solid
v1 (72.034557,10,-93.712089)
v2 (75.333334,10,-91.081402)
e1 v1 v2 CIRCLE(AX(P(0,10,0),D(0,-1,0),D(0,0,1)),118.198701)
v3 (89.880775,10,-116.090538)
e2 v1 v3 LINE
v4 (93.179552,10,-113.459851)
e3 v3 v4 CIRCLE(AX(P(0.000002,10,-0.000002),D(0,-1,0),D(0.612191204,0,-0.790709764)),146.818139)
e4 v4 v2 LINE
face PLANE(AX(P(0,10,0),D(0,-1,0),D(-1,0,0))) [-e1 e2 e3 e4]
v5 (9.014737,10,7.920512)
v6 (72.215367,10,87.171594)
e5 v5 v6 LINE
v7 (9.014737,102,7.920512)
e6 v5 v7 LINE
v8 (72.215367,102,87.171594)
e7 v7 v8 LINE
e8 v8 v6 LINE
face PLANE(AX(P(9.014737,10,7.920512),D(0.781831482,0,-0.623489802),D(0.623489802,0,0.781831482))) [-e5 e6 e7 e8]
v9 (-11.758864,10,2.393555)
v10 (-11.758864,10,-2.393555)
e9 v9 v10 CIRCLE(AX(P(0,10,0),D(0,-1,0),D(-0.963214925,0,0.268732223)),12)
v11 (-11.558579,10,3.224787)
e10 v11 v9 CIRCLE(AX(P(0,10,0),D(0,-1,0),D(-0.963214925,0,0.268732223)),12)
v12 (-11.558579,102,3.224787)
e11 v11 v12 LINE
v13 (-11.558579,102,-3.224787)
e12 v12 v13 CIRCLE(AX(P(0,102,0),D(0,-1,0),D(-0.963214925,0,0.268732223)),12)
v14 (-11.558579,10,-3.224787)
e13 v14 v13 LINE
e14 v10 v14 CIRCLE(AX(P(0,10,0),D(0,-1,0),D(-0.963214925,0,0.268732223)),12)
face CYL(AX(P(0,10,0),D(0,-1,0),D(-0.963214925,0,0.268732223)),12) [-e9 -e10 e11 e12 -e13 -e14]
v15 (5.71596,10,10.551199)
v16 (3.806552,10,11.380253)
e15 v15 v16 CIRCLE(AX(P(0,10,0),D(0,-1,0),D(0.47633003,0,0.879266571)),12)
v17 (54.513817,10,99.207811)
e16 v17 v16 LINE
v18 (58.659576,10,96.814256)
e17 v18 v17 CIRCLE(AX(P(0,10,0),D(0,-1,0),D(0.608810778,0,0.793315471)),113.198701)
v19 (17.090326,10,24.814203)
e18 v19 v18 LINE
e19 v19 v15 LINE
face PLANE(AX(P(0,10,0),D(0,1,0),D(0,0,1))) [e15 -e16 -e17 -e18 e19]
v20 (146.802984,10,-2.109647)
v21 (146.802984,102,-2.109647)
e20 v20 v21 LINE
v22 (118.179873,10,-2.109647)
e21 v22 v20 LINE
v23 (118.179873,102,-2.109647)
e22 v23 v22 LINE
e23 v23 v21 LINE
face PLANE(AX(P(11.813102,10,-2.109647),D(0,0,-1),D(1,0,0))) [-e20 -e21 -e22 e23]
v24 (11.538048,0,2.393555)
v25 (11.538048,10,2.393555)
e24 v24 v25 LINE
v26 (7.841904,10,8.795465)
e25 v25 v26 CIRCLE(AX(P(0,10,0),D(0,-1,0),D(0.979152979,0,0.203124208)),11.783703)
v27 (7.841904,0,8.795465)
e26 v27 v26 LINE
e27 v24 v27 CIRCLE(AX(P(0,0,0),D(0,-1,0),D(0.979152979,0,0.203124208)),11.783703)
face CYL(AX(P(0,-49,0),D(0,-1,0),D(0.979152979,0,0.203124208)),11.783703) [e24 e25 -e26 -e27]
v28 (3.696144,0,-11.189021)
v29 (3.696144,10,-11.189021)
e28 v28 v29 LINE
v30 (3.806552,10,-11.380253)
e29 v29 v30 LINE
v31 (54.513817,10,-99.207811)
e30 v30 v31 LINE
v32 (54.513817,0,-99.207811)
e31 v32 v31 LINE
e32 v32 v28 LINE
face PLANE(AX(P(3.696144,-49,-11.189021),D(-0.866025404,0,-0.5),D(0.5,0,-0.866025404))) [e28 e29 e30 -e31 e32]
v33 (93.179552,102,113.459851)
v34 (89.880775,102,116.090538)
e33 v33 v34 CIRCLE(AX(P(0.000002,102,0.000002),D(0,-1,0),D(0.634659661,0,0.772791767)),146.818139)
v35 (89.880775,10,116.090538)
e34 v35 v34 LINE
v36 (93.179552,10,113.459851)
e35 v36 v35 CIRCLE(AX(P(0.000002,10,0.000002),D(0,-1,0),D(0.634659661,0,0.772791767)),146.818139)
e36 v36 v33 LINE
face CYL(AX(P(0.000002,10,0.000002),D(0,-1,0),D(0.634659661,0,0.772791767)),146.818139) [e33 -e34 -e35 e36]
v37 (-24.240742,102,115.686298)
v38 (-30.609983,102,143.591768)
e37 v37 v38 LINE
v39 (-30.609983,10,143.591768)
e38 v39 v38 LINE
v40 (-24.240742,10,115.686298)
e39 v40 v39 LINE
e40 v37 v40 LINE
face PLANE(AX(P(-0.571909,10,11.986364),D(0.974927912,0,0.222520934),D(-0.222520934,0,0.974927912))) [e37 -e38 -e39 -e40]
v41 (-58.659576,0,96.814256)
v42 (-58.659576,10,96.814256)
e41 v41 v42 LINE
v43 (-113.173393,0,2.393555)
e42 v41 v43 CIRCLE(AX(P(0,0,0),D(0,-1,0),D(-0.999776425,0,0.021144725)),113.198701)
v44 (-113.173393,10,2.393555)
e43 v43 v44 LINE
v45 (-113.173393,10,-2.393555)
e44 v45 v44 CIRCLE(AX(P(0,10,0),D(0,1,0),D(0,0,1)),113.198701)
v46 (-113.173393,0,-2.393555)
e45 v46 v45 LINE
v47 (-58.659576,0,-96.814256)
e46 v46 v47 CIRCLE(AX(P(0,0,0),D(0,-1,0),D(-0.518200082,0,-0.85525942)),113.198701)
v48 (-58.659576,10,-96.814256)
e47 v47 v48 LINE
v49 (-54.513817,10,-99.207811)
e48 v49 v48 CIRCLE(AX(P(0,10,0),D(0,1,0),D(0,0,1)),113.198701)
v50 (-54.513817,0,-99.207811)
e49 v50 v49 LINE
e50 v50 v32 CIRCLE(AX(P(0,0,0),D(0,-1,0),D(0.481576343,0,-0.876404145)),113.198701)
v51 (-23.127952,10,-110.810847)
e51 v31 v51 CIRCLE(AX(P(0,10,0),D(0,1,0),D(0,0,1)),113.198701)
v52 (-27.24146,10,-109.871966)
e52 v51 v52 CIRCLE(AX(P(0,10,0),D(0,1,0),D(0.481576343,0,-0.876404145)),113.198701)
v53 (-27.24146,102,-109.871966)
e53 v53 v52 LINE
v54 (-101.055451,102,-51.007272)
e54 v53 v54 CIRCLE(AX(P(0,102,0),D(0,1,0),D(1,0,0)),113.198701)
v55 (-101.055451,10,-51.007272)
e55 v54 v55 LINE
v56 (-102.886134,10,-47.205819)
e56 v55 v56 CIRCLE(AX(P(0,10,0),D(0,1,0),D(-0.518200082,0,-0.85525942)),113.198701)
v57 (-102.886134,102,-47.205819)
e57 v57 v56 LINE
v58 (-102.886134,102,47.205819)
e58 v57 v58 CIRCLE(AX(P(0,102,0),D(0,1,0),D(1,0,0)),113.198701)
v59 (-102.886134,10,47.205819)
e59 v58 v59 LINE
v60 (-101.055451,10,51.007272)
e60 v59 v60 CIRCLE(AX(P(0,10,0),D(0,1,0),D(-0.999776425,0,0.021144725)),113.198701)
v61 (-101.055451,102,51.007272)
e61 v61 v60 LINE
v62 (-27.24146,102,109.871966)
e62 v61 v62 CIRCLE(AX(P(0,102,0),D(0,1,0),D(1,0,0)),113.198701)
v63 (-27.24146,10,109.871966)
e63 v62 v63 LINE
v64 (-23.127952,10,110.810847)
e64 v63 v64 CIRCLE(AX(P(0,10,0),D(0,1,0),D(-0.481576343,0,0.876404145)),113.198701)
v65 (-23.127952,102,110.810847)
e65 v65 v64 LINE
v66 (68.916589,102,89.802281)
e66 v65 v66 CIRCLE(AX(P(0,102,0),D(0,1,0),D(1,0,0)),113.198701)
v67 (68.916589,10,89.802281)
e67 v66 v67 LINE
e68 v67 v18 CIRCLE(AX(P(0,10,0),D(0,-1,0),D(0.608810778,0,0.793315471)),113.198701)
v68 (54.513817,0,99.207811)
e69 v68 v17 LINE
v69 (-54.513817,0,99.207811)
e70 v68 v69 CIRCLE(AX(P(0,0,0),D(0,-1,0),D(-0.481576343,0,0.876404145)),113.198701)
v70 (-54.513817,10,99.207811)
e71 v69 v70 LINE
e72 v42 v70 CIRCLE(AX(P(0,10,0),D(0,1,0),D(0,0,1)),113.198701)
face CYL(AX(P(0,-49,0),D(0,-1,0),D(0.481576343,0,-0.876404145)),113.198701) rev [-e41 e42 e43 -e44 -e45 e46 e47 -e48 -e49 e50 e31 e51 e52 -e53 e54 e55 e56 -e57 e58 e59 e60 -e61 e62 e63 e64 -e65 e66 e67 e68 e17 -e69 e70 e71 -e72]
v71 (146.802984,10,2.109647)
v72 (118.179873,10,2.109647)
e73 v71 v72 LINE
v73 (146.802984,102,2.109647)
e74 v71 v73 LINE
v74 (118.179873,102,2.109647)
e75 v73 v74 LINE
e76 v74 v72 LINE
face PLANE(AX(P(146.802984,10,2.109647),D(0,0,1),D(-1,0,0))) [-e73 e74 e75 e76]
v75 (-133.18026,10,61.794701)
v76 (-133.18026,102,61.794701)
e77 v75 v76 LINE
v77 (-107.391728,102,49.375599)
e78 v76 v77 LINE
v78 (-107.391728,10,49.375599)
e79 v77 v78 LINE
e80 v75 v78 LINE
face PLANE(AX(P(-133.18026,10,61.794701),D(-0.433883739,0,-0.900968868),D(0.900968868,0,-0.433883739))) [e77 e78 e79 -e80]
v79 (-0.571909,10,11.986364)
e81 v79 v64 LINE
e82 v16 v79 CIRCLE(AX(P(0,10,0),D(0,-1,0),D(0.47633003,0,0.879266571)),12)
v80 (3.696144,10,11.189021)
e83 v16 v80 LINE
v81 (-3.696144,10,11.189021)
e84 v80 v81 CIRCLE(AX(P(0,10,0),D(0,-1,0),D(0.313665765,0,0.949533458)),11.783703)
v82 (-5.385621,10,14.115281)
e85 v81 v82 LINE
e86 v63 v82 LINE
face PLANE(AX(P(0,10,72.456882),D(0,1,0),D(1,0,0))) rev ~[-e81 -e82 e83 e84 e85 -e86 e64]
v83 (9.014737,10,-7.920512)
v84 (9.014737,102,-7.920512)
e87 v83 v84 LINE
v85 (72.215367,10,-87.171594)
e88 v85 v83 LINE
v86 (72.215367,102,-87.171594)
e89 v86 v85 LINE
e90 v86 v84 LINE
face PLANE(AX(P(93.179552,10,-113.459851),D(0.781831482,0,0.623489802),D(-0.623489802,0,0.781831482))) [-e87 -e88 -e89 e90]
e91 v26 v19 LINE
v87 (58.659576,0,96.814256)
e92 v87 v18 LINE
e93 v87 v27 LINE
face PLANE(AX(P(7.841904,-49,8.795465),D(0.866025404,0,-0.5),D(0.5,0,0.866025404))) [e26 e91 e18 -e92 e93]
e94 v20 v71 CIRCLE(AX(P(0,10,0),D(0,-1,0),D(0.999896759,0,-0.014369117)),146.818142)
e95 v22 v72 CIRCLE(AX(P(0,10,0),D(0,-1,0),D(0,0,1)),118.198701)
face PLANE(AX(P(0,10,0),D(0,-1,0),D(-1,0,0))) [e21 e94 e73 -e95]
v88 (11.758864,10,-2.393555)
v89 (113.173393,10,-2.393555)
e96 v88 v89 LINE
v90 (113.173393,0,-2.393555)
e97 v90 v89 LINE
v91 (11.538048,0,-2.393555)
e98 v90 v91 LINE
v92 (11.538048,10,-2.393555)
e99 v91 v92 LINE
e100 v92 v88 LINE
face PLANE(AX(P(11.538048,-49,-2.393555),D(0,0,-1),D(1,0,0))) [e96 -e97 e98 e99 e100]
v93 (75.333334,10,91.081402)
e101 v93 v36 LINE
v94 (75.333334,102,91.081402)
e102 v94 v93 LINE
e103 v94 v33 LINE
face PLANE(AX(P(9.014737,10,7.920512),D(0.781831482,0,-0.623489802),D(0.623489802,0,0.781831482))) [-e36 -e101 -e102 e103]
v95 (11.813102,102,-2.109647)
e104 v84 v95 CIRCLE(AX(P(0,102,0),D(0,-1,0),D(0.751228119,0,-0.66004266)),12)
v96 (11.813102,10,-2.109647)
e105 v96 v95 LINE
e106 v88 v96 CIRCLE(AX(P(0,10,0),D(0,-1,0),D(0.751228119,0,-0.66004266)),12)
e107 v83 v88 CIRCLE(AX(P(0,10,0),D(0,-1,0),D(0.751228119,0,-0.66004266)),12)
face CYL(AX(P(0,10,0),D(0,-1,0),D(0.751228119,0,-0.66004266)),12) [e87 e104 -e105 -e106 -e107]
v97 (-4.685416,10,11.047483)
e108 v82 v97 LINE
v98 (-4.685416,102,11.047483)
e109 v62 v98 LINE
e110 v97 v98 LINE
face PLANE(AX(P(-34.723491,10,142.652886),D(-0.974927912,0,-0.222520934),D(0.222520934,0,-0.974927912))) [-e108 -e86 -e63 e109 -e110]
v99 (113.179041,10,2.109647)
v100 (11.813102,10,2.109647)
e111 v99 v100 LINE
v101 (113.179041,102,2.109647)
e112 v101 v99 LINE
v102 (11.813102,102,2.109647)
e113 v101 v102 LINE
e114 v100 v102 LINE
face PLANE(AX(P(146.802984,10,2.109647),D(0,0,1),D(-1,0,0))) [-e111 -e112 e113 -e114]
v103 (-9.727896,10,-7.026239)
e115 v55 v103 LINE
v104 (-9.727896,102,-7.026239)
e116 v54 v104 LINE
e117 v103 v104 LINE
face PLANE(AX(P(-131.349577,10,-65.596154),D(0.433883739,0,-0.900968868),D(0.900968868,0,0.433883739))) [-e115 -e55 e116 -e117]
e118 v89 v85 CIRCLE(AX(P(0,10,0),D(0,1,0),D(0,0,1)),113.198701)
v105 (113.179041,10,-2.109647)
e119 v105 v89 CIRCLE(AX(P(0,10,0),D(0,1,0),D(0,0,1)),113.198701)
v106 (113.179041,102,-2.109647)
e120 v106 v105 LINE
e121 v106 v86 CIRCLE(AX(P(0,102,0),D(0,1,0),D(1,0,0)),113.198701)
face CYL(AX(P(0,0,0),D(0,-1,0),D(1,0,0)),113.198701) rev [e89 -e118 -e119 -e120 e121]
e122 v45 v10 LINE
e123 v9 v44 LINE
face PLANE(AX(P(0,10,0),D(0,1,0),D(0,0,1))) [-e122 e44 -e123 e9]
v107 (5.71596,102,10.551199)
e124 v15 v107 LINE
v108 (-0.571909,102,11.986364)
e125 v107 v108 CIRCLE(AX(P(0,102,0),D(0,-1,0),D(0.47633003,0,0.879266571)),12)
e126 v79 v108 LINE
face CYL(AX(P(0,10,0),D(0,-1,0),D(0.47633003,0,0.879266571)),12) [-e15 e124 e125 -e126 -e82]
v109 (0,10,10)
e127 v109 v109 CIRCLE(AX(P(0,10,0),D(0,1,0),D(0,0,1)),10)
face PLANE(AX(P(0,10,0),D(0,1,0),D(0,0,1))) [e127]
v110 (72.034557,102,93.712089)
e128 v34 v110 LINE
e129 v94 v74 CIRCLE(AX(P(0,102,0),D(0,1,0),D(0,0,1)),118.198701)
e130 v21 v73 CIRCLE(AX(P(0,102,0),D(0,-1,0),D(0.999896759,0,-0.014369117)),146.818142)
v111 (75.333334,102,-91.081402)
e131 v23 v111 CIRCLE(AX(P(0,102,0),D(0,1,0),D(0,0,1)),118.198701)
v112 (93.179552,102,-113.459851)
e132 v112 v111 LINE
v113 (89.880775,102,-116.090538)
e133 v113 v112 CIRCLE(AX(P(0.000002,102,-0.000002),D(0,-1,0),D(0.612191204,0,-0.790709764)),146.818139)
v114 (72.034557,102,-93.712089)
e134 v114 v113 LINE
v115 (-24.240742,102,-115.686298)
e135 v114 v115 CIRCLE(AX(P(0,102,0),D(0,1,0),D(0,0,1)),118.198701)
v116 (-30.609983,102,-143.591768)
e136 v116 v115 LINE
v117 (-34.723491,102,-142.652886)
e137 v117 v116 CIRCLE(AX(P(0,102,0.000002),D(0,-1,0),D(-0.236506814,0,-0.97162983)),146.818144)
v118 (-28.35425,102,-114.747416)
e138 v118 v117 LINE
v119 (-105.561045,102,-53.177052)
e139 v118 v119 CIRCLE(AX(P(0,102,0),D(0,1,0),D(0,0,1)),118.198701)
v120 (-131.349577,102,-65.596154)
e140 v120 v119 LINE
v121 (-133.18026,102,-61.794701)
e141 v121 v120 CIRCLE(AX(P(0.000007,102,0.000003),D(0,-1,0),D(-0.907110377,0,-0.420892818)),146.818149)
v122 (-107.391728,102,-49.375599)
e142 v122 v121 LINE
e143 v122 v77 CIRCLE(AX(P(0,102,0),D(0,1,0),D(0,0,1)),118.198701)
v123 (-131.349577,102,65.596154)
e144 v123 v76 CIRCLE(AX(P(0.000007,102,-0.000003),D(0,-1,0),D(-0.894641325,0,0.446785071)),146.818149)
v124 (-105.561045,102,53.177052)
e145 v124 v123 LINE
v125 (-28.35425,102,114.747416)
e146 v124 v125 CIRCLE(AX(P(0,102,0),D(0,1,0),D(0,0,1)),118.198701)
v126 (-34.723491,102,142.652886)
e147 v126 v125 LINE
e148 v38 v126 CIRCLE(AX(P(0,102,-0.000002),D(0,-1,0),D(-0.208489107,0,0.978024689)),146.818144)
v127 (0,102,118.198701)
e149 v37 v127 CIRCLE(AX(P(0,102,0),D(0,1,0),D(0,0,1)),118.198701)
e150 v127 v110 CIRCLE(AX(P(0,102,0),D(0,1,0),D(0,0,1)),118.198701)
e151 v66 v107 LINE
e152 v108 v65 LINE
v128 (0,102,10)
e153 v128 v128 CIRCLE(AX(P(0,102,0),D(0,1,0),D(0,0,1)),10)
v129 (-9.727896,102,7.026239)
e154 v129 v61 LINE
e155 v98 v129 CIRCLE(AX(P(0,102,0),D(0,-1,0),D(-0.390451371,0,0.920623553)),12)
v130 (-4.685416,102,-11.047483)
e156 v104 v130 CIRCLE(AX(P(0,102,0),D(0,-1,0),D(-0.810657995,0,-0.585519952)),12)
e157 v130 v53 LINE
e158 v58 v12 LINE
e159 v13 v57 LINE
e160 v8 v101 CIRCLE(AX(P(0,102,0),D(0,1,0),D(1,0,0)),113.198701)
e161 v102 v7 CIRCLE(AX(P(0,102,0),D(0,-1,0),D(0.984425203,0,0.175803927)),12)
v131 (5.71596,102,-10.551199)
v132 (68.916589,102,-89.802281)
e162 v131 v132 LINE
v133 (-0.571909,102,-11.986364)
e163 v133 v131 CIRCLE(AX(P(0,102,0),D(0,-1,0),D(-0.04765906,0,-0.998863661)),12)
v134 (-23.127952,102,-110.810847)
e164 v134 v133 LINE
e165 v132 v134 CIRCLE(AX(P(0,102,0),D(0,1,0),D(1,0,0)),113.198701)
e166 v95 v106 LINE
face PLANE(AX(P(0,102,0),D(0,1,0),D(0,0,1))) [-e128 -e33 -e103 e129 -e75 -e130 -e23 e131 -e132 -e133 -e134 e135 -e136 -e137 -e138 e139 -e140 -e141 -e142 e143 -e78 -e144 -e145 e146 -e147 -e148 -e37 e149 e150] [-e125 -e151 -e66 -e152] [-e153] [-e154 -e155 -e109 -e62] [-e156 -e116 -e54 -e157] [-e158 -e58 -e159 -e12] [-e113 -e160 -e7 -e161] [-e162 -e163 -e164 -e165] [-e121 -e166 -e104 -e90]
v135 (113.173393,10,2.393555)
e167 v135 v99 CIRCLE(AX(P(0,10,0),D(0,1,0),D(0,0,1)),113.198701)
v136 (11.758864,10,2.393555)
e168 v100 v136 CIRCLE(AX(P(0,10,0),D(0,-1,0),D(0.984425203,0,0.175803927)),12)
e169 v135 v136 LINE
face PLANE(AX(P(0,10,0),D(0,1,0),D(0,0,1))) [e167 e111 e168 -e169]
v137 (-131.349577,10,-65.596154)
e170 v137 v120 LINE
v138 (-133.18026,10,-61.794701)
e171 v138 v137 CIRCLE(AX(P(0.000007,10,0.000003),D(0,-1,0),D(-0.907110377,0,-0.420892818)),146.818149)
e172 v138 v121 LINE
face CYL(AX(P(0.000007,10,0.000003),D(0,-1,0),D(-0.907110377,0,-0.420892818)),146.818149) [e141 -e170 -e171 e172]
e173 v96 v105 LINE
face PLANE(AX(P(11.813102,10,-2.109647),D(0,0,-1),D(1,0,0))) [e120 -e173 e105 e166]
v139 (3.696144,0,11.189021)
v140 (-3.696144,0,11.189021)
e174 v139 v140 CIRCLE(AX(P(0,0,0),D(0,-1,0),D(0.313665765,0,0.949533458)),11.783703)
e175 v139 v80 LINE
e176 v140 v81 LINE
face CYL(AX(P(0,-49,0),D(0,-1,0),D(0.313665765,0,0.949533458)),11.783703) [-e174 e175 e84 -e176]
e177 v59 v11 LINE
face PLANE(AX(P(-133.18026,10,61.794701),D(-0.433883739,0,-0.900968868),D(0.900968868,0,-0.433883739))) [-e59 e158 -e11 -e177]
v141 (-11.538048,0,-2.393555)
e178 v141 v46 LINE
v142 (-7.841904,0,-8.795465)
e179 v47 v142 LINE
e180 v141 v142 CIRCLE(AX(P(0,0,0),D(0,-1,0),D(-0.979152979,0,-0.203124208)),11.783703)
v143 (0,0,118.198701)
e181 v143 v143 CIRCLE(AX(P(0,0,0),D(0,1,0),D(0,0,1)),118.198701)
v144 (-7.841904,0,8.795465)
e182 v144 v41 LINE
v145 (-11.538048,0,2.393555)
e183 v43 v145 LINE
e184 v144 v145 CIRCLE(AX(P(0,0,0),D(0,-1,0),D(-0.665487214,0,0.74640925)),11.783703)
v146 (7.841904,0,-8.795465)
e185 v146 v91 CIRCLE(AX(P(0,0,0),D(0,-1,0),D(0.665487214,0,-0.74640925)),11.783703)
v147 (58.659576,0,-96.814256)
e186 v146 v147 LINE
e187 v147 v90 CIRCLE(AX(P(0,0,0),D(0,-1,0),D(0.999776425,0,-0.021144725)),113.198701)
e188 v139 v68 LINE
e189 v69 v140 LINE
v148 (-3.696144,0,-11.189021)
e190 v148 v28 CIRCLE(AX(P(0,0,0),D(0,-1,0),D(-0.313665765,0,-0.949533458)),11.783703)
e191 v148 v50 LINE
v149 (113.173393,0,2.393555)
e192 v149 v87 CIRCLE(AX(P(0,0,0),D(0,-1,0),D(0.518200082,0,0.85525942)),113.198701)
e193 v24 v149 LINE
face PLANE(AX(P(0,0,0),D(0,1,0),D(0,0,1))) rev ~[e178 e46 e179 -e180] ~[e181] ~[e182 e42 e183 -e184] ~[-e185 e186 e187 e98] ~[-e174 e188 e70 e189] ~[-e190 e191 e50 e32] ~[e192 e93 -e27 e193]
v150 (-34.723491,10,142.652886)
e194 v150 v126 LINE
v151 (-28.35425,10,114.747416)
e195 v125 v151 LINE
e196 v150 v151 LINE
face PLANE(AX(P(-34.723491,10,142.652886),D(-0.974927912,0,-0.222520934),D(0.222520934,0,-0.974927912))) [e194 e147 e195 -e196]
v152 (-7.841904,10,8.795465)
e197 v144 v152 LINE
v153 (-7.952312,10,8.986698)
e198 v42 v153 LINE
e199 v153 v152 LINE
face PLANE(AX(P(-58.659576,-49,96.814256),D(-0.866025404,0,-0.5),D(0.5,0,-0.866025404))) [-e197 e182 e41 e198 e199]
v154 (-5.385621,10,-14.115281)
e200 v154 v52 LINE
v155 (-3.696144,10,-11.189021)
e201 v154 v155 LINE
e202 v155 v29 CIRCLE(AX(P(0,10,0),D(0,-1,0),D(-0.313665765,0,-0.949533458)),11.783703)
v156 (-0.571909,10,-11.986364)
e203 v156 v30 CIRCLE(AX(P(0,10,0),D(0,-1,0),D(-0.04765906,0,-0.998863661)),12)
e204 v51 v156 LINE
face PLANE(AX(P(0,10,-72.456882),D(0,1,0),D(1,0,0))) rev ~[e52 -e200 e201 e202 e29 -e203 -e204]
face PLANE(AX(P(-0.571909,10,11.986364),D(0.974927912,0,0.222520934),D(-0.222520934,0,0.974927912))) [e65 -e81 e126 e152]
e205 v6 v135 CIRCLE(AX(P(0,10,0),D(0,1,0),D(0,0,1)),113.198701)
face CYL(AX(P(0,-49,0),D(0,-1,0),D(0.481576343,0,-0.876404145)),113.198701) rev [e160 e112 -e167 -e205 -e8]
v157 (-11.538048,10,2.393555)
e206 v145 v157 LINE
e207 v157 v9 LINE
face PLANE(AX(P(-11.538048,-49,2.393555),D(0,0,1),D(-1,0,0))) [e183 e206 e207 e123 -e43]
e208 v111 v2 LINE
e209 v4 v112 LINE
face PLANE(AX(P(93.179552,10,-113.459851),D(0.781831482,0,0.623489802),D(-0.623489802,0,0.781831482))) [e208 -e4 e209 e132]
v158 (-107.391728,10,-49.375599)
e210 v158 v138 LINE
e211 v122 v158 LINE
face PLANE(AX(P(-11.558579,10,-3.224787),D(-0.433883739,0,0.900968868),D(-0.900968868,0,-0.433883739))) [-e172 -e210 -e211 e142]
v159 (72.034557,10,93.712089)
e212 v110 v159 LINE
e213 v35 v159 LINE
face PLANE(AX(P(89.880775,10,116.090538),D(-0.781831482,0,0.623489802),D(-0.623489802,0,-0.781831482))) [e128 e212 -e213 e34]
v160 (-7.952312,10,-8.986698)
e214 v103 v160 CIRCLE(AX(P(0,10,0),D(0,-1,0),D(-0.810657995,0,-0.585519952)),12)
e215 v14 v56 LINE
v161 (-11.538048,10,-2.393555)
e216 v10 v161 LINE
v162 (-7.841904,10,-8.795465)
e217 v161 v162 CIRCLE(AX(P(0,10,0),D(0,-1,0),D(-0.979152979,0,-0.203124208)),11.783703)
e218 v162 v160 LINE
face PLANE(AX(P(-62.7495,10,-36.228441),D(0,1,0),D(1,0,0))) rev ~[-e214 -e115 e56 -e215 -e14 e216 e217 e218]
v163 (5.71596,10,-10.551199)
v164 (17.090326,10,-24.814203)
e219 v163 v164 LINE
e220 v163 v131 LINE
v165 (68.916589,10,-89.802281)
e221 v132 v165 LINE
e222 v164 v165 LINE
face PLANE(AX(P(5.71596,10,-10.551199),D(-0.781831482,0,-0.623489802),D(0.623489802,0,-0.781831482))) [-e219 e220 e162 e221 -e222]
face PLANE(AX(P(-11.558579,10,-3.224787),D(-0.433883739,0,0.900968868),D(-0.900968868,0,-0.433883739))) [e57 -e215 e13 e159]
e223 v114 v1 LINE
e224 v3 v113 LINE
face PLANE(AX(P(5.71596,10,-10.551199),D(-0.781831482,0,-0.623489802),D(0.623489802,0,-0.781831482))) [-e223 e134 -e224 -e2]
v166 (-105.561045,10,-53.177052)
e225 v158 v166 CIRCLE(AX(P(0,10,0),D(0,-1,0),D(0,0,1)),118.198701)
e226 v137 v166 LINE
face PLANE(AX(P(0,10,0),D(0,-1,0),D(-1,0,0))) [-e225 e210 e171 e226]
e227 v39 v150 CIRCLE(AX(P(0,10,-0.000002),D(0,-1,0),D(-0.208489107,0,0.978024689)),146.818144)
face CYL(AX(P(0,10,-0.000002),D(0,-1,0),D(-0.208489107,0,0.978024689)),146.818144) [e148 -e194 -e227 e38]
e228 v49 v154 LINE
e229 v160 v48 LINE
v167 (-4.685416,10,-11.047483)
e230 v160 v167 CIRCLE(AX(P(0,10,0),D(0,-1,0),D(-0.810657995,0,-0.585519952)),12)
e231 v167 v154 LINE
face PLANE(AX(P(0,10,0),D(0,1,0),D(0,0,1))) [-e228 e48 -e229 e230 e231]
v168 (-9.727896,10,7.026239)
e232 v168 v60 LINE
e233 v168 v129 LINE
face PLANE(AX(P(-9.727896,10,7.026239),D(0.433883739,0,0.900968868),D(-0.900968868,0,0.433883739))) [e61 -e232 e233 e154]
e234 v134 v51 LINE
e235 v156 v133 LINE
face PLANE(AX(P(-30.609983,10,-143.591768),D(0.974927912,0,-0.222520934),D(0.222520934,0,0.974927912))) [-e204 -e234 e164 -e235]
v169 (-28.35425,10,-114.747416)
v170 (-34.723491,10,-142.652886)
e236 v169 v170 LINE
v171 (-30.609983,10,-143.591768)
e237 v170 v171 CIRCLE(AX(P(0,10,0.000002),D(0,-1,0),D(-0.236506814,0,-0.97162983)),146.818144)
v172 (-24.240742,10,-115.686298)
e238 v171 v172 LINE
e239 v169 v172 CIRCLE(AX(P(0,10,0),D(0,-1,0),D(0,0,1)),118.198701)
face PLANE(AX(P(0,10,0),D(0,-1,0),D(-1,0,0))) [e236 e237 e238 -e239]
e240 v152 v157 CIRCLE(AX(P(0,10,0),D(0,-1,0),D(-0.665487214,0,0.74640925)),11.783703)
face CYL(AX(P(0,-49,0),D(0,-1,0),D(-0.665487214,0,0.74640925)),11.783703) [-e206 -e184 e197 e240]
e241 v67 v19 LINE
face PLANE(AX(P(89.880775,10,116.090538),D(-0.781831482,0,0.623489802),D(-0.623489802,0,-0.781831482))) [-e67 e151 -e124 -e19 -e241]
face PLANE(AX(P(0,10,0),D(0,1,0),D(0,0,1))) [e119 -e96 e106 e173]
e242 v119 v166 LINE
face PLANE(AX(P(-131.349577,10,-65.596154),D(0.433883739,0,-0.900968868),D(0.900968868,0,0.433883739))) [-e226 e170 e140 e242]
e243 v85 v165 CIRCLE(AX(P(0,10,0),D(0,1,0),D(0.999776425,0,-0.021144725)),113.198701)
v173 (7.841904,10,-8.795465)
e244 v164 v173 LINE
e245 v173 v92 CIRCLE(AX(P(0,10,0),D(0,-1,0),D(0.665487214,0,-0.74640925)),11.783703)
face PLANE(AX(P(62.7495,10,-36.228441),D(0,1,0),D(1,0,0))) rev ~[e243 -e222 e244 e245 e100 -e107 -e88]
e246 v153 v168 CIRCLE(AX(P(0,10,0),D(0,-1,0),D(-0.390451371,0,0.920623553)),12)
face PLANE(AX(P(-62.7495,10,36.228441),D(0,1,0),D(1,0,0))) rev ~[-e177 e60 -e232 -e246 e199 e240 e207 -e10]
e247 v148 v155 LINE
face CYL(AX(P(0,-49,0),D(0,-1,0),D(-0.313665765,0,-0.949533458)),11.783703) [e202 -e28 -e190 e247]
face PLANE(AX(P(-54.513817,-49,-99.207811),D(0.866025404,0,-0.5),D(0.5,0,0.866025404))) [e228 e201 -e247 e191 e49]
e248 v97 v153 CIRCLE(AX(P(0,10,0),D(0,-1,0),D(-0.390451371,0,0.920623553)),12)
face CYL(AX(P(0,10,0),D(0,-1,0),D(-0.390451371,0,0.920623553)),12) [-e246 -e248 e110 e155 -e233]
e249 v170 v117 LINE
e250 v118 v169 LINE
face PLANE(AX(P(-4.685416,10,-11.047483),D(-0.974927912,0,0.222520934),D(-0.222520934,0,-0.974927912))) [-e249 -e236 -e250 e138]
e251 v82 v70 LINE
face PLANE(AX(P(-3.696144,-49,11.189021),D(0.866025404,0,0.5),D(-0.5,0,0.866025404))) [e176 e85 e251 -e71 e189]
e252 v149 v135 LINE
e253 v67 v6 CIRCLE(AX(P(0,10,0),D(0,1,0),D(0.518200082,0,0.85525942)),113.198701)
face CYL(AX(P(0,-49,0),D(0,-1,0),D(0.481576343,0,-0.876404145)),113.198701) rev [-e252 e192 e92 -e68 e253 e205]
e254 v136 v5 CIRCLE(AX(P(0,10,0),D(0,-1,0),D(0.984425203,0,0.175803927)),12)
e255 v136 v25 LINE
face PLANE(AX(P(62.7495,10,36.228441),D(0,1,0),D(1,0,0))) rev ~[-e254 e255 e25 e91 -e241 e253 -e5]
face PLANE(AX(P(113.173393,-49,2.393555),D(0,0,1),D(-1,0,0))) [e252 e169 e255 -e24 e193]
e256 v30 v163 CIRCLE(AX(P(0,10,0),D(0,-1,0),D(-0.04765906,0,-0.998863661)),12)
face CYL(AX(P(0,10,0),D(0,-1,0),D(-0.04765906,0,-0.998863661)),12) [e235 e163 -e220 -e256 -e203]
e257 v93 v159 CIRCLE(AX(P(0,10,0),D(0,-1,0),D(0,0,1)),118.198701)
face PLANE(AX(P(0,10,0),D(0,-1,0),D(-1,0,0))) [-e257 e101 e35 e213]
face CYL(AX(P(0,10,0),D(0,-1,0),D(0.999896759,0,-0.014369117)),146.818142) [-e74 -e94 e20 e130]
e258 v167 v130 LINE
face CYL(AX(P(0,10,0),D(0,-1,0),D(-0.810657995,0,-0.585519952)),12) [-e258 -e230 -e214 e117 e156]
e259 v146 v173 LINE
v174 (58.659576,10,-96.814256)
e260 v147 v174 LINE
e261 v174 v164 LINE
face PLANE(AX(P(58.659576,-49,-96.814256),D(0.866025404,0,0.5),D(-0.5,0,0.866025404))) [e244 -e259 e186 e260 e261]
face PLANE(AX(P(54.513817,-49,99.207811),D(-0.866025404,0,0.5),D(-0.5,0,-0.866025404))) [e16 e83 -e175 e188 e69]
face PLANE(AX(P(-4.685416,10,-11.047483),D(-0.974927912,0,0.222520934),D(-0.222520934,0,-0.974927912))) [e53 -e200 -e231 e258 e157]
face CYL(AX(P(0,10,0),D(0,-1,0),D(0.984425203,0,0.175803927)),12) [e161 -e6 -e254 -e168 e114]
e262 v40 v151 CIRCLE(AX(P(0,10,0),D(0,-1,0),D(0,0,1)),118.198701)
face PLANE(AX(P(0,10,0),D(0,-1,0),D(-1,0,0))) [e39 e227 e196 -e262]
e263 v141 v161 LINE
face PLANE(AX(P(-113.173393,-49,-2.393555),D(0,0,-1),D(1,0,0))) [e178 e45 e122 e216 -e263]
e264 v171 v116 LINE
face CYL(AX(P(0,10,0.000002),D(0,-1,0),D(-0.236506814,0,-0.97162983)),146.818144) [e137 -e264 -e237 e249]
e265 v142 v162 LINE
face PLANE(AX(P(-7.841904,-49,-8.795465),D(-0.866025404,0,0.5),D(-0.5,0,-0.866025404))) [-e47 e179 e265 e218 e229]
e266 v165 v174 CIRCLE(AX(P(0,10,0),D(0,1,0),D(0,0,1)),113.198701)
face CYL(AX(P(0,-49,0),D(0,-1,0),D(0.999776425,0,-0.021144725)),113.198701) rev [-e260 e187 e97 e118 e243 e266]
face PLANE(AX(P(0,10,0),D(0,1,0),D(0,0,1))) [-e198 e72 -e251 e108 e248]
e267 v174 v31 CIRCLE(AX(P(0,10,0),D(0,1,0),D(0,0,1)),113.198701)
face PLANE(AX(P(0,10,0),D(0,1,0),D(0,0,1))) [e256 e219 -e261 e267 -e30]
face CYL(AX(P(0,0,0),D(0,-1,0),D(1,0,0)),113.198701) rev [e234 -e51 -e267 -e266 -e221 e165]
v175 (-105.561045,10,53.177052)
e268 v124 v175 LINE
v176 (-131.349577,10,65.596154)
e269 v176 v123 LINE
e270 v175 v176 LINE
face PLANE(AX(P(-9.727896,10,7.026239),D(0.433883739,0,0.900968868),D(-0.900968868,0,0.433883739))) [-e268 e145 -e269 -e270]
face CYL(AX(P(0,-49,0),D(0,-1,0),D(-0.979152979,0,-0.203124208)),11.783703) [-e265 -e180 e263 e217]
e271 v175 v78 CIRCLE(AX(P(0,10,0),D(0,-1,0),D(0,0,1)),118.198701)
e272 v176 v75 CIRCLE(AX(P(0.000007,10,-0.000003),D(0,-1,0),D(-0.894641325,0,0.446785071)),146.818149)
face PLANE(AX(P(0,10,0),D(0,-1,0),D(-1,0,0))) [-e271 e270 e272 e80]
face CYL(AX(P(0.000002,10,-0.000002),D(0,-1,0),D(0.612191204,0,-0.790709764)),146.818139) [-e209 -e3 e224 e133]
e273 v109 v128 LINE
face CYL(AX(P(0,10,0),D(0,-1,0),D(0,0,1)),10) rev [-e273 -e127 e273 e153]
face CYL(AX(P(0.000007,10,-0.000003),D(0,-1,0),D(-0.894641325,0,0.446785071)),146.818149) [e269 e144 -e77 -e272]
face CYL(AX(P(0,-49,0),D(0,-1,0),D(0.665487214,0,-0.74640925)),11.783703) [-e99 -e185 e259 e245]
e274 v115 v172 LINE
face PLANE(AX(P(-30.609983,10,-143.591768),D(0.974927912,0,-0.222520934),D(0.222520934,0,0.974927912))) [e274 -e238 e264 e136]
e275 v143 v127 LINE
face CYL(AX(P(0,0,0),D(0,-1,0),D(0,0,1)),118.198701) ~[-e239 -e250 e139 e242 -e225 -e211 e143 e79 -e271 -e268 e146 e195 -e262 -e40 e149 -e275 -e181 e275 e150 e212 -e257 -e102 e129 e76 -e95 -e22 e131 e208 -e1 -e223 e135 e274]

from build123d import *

# Parameters (mm, degrees)
SKETCH1_R           = 113.19870133
BOSS_EXTRUDE1_DEPTH = 10
SKETCH3_R           = 10
BOSS_EXTRUDE2_DEPTH = 92
BOSS_EXTRUDE3_START = -10
SKETCH4_R           = 118.19870133
SKETCH4_R_2         = 113.19870133
BOSS_EXTRUDE3_DEPTH = 102
CUT_EXTRUDE1_START  = -59
CUT_EXTRUDE1_DEPTH  = 59


with BuildPart() as part:
    # Sketch1 → Boss-Extrude1 (new body)
    with BuildSketch(Plane(origin=(0, 0, 0), x_dir=(1, 0, 0), z_dir=(0, 1, 0))):
        with Locations(Location((0, 0, 0), (0, 0, 270))):
            Circle(SKETCH1_R)
    extrude(amount=BOSS_EXTRUDE1_DEPTH)

    # Sketch3 → Boss-Extrude2 (add)
    with BuildSketch(Plane(origin=(0, 10, 0), x_dir=(1, 0, 0), z_dir=(0, 1, 0))):
        with BuildLine():
            Line((11.81310243, 2.10964712), (146.802984355, 2.10964712))
            ThreePointArc((146.802984355, 2.10964712), (146.818142021, 0), (146.802984355, -2.10964712))
            Line((146.802984355, -2.10964712), (11.81310243, -2.10964712))
            ThreePointArc((11.81310243, -2.10964712), (10.811626415, -5.206604869), (9.014737429, -7.920511921))
            Line((9.014737429, -7.920511921), (93.179552163, -113.459851424))
            ThreePointArc((93.179552163, -113.459851424), (91.539614278, -114.78704563), (89.880775093, -116.090538354))
            Line((89.880775093, -116.090538354), (5.715960358, -10.55119885))
            ThreePointArc((5.715960358, -10.55119885), (2.670251207, -11.699134946), (-0.571908724, -11.986363936))
            Line((-0.571908724, -11.986363936), (-30.609983324, -143.591767687))
            ThreePointArc((-30.609983324, -143.591767687), (-32.670110084, -143.137104671), (-34.723491048, -142.652886392))
            Line((-34.723491048, -142.652886392), (-4.685416448, -11.047482641))
            ThreePointArc((-4.685416448, -11.047482641), (-7.481877622, -9.38197779), (-9.727895943, -7.02623943))
            Line((-9.727895943, -7.02623943), (-131.349577039, -65.596154143))
            ThreePointArc((-131.349577039, -65.596154143), (-132.278575204, -63.70200443), (-133.1802602, -61.794701388))
            Line((-133.1802602, -61.794701388), (-11.558579104, -3.224786676))
            ThreePointArc((-11.558579104, -3.224786676), (-12, 0), (-11.558579104, 3.224786676))
            Line((-11.558579104, 3.224786676), (-133.1802602, 61.794701388))
            ThreePointArc((-133.1802602, 61.794701388), (-132.278575204, 63.70200443), (-131.349577039, 65.596154143))
            Line((-131.349577039, 65.596154143), (-9.727895943, 7.02623943))
            ThreePointArc((-9.727895943, 7.02623943), (-7.481877622, 9.38197779), (-4.685416448, 11.047482641))
            Line((-4.685416448, 11.047482641), (-34.723491048, 142.652886392))
            ThreePointArc((-34.723491048, 142.652886392), (-32.670110084, 143.137104671), (-30.609983324, 143.591767687))
            Line((-30.609983324, 143.591767687), (-0.571908724, 11.986363936))
            ThreePointArc((-0.571908724, 11.986363936), (2.670251207, 11.699134946), (5.715960358, 10.55119885))
            Line((5.715960358, 10.55119885), (89.880775093, 116.090538354))
            ThreePointArc((89.880775093, 116.090538354), (91.539614278, 114.78704563), (93.179552163, 113.459851424))
            Line((93.179552163, 113.459851424), (9.014737429, 7.920511921))
            ThreePointArc((9.014737429, 7.920511921), (10.811626415, 5.206604869), (11.81310243, 2.10964712))
        make_face()
        with Locations(Location((0, 0, 0), (0, 0, 270))):
            Circle(SKETCH3_R, mode=Mode.SUBTRACT)
    extrude(amount=BOSS_EXTRUDE2_DEPTH)

    # Sketch4 → Boss-Extrude3 (add)
    with BuildSketch(Plane(origin=(0, 10, 0), x_dir=(1, 0, 0), z_dir=(0, 1, 0)).offset(BOSS_EXTRUDE3_START)):
        with Locations(Location((0, 0, 0), (0, 0, 270))):
            Circle(SKETCH4_R)
        Circle(SKETCH4_R_2, mode=Mode.SUBTRACT)
    extrude(amount=BOSS_EXTRUDE3_DEPTH)

    # Sketch5 → Cut-Extrude1 (cut)
    with BuildSketch(Plane(origin=(0, 10, 0), x_dir=(1, 0, 0), z_dir=(0, 1, 0)).offset(CUT_EXTRUDE1_START)):
        with BuildLine():
            Line((-113.173392965, 2.393555442), (-11.53804838, 2.393555442))
            ThreePointArc((-11.53804838, 2.393555442), (-10.204986578, 5.891851748), (-7.841904008, 8.795465286))
            Line((-7.841904008, 8.795465286), (-58.6595763, 96.814255619))
            ThreePointArc((-58.6595763, 96.814255619), (-98.032951027, 56.599350665), (-113.173392965, 2.393555442))
        make_face()
        with BuildLine():
            Line((-54.513816664, 99.207811061), (-3.696144372, 11.189020728))
            ThreePointArc((-3.696144372, 11.189020728), (0, 11.783703496), (3.696144372, 11.189020728))
            Line((3.696144372, 11.189020728), (54.513816664, 99.207811061))
            ThreePointArc((54.513816664, 99.207811061), (0, 113.19870133), (-54.513816664, 99.207811061))
        make_face()
        with BuildLine():
            Line((-58.6595763, -96.814255619), (-7.841904008, -8.795465286))
            ThreePointArc((-7.841904008, -8.795465286), (-10.204986578, -5.891851748), (-11.53804838, -2.393555442))
            Line((-11.53804838, -2.393555442), (-113.173392965, -2.393555442))
            ThreePointArc((-113.173392965, -2.393555442), (-98.032951027, -56.599350665), (-58.6595763, -96.814255619))
        make_face()
        with BuildLine():
            Line((54.513816664, -99.207811061), (3.696144372, -11.189020728))
            ThreePointArc((3.696144372, -11.189020728), (0, -11.783703496), (-3.696144372, -11.189020728))
            Line((-3.696144372, -11.189020728), (-54.513816664, -99.207811061))
            ThreePointArc((-54.513816664, -99.207811061), (0, -113.19870133), (54.513816664, -99.207811061))
        make_face()
        with BuildLine():
            Line((113.173392965, -2.393555442), (11.53804838, -2.393555442))
            ThreePointArc((11.53804838, -2.393555442), (10.204986578, -5.891851748), (7.841904008, -8.795465286))
            Line((7.841904008, -8.795465286), (58.6595763, -96.814255619))
            ThreePointArc((58.6595763, -96.814255619), (98.032951027, -56.599350665), (113.173392965, -2.393555442))
        make_face()
        with BuildLine():
            Line((58.6595763, 96.814255619), (7.841904008, 8.795465286))
            ThreePointArc((7.841904008, 8.795465286), (10.204986578, 5.891851748), (11.53804838, 2.393555442))
            Line((11.53804838, 2.393555442), (113.173392965, 2.393555442))
            ThreePointArc((113.173392965, 2.393555442), (98.032951027, 56.599350665), (58.6595763, 96.814255619))
        make_face()
    extrude(amount=CUT_EXTRUDE1_DEPTH, mode=Mode.SUBTRACT)


solid = part.part
